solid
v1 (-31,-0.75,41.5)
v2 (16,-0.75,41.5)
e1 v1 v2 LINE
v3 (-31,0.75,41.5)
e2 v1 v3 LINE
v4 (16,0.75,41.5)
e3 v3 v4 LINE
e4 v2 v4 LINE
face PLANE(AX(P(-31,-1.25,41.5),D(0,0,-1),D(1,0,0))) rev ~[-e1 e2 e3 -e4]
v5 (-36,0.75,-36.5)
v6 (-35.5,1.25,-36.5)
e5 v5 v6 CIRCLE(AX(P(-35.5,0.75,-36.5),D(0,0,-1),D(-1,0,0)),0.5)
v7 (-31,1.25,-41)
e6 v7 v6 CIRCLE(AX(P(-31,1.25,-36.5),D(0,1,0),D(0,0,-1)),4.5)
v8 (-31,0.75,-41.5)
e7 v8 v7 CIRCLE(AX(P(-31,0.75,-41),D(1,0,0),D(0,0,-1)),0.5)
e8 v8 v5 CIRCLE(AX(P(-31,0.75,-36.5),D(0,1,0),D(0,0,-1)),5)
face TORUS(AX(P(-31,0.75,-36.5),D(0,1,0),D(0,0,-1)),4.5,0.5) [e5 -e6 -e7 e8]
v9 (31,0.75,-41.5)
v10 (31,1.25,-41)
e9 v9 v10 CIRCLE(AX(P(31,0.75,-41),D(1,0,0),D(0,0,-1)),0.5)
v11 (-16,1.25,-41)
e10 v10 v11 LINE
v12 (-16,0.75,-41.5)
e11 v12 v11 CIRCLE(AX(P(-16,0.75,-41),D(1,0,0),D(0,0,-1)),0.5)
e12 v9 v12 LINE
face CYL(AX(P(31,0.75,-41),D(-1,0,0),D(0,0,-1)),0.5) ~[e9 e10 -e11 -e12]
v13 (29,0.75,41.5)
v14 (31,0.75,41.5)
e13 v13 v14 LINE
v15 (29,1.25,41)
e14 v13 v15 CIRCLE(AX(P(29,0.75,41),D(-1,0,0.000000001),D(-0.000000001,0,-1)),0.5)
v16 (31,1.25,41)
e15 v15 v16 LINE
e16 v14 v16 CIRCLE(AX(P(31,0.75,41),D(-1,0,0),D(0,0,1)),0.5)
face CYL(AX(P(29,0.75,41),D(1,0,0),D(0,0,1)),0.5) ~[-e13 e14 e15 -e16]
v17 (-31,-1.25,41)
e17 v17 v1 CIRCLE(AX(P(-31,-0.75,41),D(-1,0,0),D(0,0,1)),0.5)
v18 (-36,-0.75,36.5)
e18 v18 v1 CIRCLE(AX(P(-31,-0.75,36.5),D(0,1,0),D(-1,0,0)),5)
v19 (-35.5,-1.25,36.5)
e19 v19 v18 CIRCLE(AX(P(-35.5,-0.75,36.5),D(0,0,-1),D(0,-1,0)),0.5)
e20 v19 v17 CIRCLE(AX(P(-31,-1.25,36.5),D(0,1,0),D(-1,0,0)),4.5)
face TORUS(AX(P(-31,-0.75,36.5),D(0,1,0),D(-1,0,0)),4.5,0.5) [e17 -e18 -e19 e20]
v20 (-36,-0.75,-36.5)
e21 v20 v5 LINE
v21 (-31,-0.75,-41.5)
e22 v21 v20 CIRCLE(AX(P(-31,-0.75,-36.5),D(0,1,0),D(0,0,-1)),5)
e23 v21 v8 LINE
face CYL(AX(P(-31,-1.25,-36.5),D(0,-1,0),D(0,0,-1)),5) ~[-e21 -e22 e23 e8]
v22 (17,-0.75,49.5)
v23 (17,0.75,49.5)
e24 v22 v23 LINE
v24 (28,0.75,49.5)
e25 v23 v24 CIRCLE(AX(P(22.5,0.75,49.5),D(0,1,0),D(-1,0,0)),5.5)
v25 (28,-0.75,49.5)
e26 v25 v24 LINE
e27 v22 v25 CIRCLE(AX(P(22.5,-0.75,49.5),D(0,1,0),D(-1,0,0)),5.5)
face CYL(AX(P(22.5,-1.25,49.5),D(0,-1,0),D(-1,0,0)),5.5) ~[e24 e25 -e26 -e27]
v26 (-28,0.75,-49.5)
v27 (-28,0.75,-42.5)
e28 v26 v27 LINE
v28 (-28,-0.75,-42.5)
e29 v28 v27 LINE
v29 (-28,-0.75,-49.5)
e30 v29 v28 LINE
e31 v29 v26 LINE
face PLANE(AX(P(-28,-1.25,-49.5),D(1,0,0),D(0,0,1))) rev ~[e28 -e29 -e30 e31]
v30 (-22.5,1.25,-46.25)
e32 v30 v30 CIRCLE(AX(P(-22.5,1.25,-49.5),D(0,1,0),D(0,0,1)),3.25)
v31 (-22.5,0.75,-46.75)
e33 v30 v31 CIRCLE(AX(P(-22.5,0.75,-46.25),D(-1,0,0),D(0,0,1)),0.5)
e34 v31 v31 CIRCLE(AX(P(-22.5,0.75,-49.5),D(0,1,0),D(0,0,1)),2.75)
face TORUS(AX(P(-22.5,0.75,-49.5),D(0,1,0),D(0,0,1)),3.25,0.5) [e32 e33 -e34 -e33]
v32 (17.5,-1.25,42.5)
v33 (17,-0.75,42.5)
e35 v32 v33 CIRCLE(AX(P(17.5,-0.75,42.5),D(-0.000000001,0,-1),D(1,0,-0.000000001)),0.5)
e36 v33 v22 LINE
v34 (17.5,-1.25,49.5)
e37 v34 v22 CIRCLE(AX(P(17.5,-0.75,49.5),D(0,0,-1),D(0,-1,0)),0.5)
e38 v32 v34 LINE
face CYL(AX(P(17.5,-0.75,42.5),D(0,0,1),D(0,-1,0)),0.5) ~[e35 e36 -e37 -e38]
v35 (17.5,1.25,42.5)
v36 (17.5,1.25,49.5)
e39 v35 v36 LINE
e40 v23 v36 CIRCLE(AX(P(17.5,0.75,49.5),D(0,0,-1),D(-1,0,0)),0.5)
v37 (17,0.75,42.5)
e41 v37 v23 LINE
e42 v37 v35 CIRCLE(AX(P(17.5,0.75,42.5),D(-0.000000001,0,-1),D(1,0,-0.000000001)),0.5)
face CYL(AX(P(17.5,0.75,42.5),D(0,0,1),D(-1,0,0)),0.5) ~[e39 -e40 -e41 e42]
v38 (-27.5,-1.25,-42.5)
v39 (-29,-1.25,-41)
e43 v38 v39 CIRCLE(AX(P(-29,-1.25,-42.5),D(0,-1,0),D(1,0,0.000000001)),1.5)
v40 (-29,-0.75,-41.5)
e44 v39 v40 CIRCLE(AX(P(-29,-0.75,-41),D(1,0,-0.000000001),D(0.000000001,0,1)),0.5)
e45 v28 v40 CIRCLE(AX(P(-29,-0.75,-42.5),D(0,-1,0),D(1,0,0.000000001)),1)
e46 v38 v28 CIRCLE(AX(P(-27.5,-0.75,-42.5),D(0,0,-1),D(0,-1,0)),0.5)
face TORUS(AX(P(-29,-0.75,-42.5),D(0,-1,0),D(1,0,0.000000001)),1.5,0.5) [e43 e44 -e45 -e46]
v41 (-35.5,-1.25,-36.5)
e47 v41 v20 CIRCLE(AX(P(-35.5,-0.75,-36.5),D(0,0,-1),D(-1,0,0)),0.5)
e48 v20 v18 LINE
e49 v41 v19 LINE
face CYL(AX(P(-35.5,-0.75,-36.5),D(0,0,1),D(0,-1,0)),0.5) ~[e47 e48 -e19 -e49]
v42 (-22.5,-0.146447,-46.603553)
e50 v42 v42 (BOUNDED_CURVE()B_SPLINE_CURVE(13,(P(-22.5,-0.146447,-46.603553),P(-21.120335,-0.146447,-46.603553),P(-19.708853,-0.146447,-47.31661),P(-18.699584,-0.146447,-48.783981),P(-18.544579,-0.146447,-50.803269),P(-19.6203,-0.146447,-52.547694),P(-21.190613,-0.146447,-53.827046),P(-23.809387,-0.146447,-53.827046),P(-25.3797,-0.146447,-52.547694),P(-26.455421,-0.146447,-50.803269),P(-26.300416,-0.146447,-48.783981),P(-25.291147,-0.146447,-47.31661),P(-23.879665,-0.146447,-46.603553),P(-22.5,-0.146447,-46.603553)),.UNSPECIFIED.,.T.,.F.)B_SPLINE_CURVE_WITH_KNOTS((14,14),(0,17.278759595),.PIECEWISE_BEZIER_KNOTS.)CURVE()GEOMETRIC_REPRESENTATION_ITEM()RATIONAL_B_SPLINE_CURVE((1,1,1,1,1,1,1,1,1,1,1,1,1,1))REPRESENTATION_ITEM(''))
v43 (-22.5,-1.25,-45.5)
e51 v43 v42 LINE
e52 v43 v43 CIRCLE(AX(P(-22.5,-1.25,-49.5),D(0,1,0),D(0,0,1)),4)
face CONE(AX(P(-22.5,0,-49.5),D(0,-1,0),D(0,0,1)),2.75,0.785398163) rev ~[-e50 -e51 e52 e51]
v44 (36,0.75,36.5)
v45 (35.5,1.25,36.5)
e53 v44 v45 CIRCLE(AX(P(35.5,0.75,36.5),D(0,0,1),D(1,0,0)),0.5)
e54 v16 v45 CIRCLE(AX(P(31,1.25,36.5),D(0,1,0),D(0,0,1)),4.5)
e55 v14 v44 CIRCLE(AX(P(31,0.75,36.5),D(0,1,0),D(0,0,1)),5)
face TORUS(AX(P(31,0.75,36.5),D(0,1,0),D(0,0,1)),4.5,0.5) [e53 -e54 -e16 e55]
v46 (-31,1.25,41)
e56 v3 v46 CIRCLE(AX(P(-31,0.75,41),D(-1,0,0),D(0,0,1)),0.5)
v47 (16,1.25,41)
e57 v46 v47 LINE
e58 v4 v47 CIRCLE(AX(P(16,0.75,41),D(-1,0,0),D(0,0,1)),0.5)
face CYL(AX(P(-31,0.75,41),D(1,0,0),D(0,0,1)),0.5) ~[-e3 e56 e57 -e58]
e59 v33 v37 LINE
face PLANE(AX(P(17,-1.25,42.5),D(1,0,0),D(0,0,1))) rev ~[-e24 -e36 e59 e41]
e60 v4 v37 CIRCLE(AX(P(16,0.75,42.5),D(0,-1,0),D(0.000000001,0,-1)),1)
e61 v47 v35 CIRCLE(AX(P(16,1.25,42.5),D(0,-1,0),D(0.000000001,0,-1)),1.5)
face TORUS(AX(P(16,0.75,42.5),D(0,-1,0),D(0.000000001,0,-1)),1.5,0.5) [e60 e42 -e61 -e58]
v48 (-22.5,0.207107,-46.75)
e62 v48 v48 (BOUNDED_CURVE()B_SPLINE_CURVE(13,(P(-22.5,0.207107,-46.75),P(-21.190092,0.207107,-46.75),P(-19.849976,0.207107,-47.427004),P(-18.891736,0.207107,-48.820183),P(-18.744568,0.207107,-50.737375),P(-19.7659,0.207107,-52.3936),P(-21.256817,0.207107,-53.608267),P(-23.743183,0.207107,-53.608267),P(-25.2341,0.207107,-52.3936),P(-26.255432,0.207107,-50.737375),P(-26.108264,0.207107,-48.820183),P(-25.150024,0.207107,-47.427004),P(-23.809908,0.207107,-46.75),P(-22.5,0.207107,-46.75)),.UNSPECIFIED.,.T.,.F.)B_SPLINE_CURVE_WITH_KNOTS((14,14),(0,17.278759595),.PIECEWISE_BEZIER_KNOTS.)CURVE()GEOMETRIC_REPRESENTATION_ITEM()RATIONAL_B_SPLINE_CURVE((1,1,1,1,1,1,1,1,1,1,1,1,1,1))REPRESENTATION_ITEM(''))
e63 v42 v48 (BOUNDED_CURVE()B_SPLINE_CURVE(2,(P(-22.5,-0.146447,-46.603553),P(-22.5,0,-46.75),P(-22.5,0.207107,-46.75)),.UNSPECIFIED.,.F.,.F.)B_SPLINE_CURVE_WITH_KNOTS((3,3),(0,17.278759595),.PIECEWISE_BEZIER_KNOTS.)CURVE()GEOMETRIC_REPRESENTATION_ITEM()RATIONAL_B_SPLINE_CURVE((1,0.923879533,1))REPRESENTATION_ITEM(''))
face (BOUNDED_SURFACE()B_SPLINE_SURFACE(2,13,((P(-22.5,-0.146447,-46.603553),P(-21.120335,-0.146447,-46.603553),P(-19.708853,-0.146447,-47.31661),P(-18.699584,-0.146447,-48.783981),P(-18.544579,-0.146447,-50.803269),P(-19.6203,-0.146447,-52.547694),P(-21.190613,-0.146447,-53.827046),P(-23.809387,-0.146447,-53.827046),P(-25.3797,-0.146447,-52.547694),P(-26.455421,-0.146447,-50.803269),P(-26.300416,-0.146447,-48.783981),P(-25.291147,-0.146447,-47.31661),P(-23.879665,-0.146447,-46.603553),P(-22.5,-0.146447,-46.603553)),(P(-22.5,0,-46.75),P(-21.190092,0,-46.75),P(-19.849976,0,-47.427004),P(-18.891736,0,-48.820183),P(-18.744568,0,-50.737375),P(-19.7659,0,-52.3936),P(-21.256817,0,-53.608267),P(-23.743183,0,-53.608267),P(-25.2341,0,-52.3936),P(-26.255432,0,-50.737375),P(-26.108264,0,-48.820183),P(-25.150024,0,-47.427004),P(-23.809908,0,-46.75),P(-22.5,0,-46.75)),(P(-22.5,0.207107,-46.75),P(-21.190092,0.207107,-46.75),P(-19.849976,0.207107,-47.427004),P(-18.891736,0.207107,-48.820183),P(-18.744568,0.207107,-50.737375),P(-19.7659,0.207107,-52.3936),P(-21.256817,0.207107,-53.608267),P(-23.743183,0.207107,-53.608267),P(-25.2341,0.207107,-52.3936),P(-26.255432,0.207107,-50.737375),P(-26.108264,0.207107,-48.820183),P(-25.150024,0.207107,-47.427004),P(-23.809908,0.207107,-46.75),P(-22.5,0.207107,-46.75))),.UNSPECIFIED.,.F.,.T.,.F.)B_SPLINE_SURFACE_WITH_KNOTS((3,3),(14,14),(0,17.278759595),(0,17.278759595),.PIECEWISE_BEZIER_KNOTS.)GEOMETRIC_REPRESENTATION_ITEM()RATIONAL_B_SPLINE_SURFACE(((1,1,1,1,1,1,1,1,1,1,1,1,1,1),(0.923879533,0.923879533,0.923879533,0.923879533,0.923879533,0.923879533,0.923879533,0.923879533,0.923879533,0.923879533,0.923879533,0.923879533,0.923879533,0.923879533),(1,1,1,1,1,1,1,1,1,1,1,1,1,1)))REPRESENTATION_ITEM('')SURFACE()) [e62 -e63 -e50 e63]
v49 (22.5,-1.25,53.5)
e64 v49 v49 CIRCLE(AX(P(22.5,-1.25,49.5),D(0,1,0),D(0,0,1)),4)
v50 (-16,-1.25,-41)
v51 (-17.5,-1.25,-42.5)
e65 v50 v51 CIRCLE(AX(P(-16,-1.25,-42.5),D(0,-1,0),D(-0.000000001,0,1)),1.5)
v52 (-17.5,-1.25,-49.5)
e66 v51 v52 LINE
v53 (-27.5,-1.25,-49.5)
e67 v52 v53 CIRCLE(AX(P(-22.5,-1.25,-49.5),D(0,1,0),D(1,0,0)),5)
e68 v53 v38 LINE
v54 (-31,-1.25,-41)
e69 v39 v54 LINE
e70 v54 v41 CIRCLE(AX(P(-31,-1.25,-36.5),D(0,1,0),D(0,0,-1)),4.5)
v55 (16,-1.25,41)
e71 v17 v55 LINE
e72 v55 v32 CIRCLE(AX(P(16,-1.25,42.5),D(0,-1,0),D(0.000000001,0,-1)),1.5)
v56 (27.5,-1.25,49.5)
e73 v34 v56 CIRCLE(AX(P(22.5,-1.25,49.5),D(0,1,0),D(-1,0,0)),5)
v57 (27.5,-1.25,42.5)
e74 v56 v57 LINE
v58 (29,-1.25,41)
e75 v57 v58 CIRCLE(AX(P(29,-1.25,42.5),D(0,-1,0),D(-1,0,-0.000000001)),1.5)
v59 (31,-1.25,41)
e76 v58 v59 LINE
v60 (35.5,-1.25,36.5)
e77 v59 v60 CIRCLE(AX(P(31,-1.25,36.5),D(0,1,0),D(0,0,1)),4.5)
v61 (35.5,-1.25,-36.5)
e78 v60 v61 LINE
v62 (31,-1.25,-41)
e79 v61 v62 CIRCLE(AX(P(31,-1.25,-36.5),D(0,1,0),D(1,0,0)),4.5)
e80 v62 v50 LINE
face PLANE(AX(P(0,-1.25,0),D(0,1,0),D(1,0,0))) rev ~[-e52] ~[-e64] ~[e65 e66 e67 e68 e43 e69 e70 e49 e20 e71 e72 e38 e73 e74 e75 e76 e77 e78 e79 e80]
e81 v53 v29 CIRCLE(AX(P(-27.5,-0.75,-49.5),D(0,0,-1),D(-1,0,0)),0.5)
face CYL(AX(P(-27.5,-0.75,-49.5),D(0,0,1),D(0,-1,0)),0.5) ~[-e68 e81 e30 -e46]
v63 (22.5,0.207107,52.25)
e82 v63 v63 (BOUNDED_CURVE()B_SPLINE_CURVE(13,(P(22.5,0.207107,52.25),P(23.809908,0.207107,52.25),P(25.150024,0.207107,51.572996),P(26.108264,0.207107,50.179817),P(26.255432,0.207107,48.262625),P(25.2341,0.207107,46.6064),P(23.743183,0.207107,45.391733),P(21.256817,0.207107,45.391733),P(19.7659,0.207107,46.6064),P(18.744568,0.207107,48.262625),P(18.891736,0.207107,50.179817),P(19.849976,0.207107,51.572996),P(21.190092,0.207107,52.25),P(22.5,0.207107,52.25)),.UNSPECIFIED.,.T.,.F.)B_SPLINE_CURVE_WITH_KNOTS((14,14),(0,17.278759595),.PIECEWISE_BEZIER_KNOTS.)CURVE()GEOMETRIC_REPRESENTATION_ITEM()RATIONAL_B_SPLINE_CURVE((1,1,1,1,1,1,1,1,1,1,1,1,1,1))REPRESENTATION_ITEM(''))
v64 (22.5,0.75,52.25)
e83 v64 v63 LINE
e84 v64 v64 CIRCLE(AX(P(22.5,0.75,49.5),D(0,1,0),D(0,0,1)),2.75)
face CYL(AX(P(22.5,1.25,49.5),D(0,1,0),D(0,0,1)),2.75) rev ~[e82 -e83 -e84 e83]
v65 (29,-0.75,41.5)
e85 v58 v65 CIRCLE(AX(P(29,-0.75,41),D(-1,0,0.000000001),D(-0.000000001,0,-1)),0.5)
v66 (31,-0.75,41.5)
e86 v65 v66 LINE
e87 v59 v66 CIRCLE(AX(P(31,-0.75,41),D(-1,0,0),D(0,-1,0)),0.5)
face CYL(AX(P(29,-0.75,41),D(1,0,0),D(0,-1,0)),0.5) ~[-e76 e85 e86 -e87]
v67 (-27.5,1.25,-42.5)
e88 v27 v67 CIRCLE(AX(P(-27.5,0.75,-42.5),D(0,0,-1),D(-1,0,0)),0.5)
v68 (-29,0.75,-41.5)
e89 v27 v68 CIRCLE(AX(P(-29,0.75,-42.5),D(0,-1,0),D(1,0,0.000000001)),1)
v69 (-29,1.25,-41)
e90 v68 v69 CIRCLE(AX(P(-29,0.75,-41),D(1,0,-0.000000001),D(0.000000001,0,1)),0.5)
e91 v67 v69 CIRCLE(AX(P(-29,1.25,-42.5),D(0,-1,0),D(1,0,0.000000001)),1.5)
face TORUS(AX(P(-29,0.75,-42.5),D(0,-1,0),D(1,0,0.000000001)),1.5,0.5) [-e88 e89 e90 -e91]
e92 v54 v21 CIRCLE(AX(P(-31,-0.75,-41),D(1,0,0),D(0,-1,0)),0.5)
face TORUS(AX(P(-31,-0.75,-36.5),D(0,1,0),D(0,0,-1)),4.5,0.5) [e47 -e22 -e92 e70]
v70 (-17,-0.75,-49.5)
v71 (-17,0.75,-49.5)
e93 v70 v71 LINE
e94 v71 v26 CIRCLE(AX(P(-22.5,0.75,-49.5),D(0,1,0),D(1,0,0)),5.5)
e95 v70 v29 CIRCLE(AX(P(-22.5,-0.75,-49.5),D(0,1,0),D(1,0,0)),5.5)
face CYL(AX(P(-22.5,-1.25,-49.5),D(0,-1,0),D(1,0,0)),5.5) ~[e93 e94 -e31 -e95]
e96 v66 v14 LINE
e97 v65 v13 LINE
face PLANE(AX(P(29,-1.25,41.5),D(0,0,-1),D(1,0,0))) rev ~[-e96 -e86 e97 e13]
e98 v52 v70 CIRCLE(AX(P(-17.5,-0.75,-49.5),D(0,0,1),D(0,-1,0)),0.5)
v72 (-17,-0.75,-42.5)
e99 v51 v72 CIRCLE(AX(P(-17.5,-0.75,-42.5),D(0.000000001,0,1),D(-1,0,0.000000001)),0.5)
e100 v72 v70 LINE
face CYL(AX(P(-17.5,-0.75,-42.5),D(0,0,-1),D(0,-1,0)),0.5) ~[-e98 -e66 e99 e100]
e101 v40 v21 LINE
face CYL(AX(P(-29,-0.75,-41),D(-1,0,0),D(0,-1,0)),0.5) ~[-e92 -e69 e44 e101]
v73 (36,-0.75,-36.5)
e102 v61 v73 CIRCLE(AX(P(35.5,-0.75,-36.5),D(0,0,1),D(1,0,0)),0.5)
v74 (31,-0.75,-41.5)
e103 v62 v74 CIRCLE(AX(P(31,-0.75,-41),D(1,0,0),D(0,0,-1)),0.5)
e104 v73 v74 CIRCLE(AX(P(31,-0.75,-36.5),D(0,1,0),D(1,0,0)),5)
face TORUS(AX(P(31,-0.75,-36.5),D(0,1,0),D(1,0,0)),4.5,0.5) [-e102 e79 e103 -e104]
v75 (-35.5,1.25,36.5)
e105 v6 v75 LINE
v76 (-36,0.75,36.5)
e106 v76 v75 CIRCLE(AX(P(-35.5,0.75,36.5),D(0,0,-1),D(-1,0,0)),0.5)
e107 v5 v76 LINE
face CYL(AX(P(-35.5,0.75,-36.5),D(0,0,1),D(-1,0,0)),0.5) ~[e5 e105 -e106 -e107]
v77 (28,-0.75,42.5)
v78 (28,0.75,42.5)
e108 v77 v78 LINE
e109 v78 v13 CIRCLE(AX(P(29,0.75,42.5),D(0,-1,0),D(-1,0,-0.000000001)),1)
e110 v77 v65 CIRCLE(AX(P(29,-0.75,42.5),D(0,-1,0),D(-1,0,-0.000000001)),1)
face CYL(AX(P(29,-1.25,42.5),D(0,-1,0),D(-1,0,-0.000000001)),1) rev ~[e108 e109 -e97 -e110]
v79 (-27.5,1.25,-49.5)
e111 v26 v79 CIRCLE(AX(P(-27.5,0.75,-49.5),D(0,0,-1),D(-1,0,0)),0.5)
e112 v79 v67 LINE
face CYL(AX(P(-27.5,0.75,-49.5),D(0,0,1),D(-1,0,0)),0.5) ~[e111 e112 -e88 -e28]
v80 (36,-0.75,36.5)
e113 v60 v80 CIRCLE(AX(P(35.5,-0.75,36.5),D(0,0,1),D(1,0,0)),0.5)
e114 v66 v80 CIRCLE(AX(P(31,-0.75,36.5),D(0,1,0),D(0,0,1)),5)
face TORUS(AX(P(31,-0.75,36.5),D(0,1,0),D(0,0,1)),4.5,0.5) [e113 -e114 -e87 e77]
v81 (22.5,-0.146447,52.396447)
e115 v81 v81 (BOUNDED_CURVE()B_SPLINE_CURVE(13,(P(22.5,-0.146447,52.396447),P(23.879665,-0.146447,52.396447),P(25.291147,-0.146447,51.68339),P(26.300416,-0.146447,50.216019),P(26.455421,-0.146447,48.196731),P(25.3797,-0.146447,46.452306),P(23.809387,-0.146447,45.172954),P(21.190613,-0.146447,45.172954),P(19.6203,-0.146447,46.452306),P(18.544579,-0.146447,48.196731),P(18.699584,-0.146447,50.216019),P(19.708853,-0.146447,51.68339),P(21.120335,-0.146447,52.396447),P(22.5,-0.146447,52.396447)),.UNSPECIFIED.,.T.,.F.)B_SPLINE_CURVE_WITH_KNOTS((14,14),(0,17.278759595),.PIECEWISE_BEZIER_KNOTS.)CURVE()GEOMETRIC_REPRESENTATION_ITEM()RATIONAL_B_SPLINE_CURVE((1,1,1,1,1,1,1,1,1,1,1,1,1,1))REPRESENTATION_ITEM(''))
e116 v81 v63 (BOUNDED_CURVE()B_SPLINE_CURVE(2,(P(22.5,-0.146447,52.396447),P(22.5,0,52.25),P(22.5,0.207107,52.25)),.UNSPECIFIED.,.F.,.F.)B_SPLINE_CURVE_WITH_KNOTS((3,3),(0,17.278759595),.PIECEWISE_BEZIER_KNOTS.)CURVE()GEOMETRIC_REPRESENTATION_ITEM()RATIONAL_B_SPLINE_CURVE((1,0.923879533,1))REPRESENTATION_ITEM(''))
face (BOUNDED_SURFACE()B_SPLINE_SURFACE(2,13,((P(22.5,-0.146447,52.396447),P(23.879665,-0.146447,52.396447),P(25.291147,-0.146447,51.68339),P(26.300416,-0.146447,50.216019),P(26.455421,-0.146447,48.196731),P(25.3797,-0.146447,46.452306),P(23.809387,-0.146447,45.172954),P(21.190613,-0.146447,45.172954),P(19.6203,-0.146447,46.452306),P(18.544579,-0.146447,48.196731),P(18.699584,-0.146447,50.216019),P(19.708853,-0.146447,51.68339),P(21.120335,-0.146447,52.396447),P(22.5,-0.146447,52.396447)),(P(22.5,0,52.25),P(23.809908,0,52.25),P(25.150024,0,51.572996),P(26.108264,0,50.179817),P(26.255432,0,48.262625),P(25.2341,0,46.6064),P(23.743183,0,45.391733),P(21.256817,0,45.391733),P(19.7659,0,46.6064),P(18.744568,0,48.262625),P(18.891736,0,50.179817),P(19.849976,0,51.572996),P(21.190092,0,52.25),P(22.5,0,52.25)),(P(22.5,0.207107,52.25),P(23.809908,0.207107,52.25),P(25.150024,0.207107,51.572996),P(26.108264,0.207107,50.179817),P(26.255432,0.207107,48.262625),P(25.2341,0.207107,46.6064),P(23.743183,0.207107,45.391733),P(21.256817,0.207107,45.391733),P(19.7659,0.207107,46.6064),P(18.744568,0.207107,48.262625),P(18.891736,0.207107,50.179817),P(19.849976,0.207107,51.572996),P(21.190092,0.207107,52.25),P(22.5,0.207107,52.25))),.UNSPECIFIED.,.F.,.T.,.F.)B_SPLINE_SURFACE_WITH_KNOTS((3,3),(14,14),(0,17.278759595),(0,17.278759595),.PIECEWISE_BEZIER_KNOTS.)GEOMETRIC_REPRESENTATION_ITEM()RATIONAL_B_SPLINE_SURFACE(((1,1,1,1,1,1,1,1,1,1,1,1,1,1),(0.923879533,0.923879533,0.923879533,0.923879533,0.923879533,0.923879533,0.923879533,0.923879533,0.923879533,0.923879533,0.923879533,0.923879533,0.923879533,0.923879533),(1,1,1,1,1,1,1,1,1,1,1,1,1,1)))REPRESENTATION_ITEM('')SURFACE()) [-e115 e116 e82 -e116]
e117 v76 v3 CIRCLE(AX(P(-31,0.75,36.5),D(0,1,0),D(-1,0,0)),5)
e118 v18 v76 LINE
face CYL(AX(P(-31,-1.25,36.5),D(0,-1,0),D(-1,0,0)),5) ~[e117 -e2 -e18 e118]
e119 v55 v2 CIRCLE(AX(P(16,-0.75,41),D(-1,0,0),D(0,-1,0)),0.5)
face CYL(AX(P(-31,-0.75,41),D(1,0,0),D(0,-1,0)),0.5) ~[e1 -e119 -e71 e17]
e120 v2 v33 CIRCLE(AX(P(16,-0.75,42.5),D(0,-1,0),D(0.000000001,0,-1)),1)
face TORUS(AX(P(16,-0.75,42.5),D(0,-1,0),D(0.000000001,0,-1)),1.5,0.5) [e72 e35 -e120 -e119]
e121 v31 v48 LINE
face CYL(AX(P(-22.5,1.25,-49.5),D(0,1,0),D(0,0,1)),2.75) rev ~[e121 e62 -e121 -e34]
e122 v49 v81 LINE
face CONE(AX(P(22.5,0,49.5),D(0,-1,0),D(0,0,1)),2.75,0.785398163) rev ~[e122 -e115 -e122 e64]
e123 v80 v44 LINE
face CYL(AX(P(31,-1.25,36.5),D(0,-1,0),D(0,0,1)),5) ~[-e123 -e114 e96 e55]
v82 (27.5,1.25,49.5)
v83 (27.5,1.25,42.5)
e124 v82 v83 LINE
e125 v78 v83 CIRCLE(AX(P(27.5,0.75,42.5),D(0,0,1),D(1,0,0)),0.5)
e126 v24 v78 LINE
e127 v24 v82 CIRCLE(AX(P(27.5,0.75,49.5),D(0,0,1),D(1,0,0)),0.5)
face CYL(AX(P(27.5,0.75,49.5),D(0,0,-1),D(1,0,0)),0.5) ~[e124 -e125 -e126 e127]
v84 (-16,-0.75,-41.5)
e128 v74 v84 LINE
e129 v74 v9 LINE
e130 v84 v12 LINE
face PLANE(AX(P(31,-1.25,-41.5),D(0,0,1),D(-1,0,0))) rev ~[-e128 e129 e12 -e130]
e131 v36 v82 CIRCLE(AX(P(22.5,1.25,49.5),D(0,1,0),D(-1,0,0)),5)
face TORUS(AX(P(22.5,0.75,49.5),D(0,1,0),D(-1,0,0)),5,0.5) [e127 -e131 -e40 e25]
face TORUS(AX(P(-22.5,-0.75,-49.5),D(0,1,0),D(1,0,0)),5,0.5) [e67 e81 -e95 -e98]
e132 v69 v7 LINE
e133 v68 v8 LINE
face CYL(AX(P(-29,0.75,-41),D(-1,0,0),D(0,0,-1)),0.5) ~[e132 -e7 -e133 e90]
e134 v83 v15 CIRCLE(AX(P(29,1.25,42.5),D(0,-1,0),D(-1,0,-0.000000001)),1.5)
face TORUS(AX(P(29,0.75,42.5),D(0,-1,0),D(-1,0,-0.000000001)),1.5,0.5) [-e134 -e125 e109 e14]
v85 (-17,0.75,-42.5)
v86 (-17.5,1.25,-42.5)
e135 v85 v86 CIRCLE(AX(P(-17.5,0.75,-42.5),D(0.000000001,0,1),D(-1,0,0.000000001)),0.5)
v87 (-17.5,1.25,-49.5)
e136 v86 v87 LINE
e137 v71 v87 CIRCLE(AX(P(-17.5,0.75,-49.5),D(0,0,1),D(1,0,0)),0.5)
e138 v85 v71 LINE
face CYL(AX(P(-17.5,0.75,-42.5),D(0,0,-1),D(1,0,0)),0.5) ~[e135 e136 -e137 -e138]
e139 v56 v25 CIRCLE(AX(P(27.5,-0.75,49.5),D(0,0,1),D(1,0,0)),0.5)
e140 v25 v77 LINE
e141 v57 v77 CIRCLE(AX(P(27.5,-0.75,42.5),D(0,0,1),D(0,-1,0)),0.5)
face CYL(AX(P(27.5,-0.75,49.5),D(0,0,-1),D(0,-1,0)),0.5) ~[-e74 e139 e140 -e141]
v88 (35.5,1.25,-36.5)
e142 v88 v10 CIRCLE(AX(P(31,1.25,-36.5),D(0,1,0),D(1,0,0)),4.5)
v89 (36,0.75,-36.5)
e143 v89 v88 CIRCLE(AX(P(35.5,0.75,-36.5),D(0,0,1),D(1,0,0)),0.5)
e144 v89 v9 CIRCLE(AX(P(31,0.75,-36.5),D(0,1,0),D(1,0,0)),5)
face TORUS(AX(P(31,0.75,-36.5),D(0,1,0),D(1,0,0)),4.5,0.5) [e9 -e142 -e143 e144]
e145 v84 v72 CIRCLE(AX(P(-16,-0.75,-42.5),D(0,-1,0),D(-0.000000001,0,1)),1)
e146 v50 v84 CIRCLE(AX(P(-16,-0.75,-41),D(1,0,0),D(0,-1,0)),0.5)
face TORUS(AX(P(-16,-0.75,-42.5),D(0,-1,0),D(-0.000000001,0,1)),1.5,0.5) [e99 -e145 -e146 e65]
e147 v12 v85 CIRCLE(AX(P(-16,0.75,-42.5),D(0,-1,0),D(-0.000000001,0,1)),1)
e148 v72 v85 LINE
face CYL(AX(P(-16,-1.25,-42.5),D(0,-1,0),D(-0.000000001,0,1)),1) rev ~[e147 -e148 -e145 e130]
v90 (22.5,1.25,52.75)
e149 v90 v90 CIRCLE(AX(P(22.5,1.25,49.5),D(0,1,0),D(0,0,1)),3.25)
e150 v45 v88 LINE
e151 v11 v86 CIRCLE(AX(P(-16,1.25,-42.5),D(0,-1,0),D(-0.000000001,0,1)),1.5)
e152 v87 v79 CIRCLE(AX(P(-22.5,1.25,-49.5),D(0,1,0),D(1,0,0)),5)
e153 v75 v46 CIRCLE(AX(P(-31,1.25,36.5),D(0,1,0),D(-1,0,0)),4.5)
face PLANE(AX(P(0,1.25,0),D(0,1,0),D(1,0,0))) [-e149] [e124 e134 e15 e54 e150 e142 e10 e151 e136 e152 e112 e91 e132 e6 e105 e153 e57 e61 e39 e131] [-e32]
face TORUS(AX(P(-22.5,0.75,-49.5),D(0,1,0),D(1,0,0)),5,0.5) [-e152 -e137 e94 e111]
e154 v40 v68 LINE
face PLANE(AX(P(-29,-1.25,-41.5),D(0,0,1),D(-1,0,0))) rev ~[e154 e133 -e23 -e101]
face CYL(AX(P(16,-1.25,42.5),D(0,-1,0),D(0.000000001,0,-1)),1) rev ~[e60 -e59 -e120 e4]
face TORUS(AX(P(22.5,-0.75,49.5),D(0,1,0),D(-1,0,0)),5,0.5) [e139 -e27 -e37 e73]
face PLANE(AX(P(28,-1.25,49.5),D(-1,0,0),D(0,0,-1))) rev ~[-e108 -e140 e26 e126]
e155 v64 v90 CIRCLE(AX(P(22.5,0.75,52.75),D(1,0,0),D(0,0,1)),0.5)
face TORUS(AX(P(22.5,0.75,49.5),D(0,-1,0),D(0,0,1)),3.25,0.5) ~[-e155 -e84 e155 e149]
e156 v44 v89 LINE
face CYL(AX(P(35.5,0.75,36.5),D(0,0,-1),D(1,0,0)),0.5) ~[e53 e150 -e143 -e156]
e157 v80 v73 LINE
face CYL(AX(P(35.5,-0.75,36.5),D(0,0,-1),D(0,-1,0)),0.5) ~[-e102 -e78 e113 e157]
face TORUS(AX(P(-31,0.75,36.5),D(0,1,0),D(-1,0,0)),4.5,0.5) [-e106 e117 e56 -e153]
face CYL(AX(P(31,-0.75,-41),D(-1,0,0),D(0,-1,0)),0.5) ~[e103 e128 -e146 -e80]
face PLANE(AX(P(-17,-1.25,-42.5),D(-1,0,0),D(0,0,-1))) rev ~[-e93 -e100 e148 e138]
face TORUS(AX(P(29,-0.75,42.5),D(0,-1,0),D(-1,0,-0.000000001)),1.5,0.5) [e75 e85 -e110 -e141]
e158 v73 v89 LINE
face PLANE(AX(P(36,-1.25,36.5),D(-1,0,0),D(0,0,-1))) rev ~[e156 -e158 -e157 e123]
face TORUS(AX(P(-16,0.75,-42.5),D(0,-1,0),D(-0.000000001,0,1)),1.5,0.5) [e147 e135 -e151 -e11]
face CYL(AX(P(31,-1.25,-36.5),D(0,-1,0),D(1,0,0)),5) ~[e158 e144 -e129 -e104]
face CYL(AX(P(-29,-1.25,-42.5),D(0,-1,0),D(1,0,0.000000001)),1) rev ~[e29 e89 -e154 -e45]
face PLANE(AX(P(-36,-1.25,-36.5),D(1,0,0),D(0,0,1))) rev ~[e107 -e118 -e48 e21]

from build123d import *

# Parameters (mm, degrees)
BOSS_EXTRUDE1_DEPTH      = 1.25
BOSS_EXTRUDE1_DEPTH_BACK = 1.25
CUT_EXTRUDE1_REACH       = 67.782
SKETCH2_R                = 2.75
CHAMFER1_SIZE            = 1.25
FILLET1_R                = 0.5


with BuildPart() as part:
    # Sketch1 → Boss-Extrude1 (new, two sides: drawn at the far end of the back side and taken through both)
    with BuildSketch(Plane(origin=(0, 0, 0), x_dir=(1, 0, 0), z_dir=(0, 1, 0)).offset(-BOSS_EXTRUDE1_DEPTH_BACK)):
        with BuildLine():
            Line((36, -36.5), (36, 36.5))
            ThreePointArc((36, 36.5), (34.535533906, 40.035533906), (31, 41.5))
            Line((31, 41.5), (-16, 41.5))
            ThreePointArc((-16, 41.5), (-16.707106781, 41.792893219), (-17, 42.5))
            Line((-17, 42.5), (-17, 49.5))
            ThreePointArc((-17, 49.5), (-22.5, 55), (-28, 49.5))
            Line((-28, 49.5), (-28, 42.5))
            ThreePointArc((-28, 42.5), (-28.292893219, 41.792893219), (-29, 41.5))
            Line((-29, 41.5), (-31, 41.5))
            ThreePointArc((-31, 41.5), (-34.535533906, 40.035533906), (-36, 36.5))
            Line((-36, 36.5), (-36, -36.5))
            ThreePointArc((-36, -36.5), (-34.535533906, -40.035533906), (-31, -41.5))
            Line((-31, -41.5), (16, -41.5))
            ThreePointArc((16, -41.5), (16.707106781, -41.792893219), (17, -42.5))
            Line((17, -42.5), (17, -49.5))
            ThreePointArc((17, -49.5), (22.5, -55), (28, -49.5))
            Line((28, -49.5), (28, -42.5))
            ThreePointArc((28, -42.5), (28.292893219, -41.792893219), (29, -41.5))
            Line((29, -41.5), (31, -41.5))
            ThreePointArc((31, -41.5), (34.535533906, -40.035533906), (36, -36.5))
        make_face()
    extrude(amount=BOSS_EXTRUDE1_DEPTH + BOSS_EXTRUDE1_DEPTH_BACK)

    # Sketch2 → Cut-Extrude1 (cut, up to next)
    with BuildSketch(Plane(origin=(0, 1.25, 0), x_dir=(1, 0, 0), z_dir=(0, 1, 0)), mode=Mode.PRIVATE) as cut_extrude1_sk1:
        with Locations((22.5, -49.5)):
            Circle(SKETCH2_R)
    cut_extrude1_tool1 = extrude(cut_extrude1_sk1.sketch, amount=-CUT_EXTRUDE1_REACH, mode=Mode.PRIVATE) & part.part
    # Sketch2 → Cut-Extrude1 (cut, up to next)
    with BuildSketch(Plane(origin=(0, 1.25, 0), x_dir=(1, 0, 0), z_dir=(0, 1, 0)), mode=Mode.PRIVATE) as cut_extrude1_sk2:
        with Locations((-22.5, 49.5)):
            Circle(SKETCH2_R)
    cut_extrude1_tool2 = extrude(cut_extrude1_sk2.sketch, amount=-CUT_EXTRUDE1_REACH, mode=Mode.PRIVATE) & part.part
    add(cut_extrude1_tool1.solids().sort_by_distance((22.5, 1.25, 49.5))[0], mode=Mode.SUBTRACT)
    add(cut_extrude1_tool2.solids().sort_by_distance((-22.5, 1.25, -49.5))[0], mode=Mode.SUBTRACT)

    # Chamfer1
    chamfer1_edges = [part.edges().sort_by_distance(p)[0] for p in [
        (19.75, -1.25, 49.5),
        (-25.25, -1.25, -49.5),
    ]]
    chamfer(chamfer1_edges, length=CHAMFER1_SIZE)

    # Fillet1
    fillet1_edges = [part.edges().sort_by_distance(p)[0] for p in [
        (-34.535533906, -1.25, -40.035533906),
        (-30, -1.25, -41.5),
        (-28.292893219, -1.25, -41.792893219),
        (-28, -1.25, -46),
        (-22.5, -1.25, -55),
        (-17, -1.25, -46),
        (-16.707106781, -1.25, -41.792893219),
        (7.5, -1.25, -41.5),
        (34.535533906, -1.25, -40.035533906),
        (36, -1.25, 0),
        (34.535533906, -1.25, 40.035533906),
        (30, -1.25, 41.5),
        (28.292893219, -1.25, 41.792893219),
        (28, -1.25, 46),
        (22.5, -1.25, 55),
        (17, -1.25, 46),
        (16.707106781, -1.25, 41.792893219),
        (-7.5, -1.25, 41.5),
        (-34.535533906, -1.25, 40.035533906),
        (-34.535533906, 1.25, -40.035533906),
        (-30, 1.25, -41.5),
        (-28.292893219, 1.25, -41.792893219),
        (-28, 1.25, -46),
        (-22.5, 1.25, -55),
        (-17, 1.25, -46),
        (-16.707106781, 1.25, -41.792893219),
        (7.5, 1.25, -41.5),
        (34.535533906, 1.25, -40.035533906),
        (36, 1.25, 0),
        (34.535533906, 1.25, 40.035533906),
        (30, 1.25, 41.5),
        (28.292893219, 1.25, 41.792893219),
        (28, 1.25, 46),
        (22.5, 1.25, 55),
        (17, 1.25, 46),
        (16.707106781, 1.25, 41.792893219),
        (-7.5, 1.25, 41.5),
        (-34.535533906, 1.25, 40.035533906),
        (-36, -1.25, 0),
        (-36, 1.25, 0),
        (19.75, 1.25, 49.5),
        (19.75, 0, 49.5),
        (-25.25, 1.25, -49.5),
        (-25.25, 0, -49.5),
    ]]
    fillet(fillet1_edges, radius=FILLET1_R)


solid = part.part
